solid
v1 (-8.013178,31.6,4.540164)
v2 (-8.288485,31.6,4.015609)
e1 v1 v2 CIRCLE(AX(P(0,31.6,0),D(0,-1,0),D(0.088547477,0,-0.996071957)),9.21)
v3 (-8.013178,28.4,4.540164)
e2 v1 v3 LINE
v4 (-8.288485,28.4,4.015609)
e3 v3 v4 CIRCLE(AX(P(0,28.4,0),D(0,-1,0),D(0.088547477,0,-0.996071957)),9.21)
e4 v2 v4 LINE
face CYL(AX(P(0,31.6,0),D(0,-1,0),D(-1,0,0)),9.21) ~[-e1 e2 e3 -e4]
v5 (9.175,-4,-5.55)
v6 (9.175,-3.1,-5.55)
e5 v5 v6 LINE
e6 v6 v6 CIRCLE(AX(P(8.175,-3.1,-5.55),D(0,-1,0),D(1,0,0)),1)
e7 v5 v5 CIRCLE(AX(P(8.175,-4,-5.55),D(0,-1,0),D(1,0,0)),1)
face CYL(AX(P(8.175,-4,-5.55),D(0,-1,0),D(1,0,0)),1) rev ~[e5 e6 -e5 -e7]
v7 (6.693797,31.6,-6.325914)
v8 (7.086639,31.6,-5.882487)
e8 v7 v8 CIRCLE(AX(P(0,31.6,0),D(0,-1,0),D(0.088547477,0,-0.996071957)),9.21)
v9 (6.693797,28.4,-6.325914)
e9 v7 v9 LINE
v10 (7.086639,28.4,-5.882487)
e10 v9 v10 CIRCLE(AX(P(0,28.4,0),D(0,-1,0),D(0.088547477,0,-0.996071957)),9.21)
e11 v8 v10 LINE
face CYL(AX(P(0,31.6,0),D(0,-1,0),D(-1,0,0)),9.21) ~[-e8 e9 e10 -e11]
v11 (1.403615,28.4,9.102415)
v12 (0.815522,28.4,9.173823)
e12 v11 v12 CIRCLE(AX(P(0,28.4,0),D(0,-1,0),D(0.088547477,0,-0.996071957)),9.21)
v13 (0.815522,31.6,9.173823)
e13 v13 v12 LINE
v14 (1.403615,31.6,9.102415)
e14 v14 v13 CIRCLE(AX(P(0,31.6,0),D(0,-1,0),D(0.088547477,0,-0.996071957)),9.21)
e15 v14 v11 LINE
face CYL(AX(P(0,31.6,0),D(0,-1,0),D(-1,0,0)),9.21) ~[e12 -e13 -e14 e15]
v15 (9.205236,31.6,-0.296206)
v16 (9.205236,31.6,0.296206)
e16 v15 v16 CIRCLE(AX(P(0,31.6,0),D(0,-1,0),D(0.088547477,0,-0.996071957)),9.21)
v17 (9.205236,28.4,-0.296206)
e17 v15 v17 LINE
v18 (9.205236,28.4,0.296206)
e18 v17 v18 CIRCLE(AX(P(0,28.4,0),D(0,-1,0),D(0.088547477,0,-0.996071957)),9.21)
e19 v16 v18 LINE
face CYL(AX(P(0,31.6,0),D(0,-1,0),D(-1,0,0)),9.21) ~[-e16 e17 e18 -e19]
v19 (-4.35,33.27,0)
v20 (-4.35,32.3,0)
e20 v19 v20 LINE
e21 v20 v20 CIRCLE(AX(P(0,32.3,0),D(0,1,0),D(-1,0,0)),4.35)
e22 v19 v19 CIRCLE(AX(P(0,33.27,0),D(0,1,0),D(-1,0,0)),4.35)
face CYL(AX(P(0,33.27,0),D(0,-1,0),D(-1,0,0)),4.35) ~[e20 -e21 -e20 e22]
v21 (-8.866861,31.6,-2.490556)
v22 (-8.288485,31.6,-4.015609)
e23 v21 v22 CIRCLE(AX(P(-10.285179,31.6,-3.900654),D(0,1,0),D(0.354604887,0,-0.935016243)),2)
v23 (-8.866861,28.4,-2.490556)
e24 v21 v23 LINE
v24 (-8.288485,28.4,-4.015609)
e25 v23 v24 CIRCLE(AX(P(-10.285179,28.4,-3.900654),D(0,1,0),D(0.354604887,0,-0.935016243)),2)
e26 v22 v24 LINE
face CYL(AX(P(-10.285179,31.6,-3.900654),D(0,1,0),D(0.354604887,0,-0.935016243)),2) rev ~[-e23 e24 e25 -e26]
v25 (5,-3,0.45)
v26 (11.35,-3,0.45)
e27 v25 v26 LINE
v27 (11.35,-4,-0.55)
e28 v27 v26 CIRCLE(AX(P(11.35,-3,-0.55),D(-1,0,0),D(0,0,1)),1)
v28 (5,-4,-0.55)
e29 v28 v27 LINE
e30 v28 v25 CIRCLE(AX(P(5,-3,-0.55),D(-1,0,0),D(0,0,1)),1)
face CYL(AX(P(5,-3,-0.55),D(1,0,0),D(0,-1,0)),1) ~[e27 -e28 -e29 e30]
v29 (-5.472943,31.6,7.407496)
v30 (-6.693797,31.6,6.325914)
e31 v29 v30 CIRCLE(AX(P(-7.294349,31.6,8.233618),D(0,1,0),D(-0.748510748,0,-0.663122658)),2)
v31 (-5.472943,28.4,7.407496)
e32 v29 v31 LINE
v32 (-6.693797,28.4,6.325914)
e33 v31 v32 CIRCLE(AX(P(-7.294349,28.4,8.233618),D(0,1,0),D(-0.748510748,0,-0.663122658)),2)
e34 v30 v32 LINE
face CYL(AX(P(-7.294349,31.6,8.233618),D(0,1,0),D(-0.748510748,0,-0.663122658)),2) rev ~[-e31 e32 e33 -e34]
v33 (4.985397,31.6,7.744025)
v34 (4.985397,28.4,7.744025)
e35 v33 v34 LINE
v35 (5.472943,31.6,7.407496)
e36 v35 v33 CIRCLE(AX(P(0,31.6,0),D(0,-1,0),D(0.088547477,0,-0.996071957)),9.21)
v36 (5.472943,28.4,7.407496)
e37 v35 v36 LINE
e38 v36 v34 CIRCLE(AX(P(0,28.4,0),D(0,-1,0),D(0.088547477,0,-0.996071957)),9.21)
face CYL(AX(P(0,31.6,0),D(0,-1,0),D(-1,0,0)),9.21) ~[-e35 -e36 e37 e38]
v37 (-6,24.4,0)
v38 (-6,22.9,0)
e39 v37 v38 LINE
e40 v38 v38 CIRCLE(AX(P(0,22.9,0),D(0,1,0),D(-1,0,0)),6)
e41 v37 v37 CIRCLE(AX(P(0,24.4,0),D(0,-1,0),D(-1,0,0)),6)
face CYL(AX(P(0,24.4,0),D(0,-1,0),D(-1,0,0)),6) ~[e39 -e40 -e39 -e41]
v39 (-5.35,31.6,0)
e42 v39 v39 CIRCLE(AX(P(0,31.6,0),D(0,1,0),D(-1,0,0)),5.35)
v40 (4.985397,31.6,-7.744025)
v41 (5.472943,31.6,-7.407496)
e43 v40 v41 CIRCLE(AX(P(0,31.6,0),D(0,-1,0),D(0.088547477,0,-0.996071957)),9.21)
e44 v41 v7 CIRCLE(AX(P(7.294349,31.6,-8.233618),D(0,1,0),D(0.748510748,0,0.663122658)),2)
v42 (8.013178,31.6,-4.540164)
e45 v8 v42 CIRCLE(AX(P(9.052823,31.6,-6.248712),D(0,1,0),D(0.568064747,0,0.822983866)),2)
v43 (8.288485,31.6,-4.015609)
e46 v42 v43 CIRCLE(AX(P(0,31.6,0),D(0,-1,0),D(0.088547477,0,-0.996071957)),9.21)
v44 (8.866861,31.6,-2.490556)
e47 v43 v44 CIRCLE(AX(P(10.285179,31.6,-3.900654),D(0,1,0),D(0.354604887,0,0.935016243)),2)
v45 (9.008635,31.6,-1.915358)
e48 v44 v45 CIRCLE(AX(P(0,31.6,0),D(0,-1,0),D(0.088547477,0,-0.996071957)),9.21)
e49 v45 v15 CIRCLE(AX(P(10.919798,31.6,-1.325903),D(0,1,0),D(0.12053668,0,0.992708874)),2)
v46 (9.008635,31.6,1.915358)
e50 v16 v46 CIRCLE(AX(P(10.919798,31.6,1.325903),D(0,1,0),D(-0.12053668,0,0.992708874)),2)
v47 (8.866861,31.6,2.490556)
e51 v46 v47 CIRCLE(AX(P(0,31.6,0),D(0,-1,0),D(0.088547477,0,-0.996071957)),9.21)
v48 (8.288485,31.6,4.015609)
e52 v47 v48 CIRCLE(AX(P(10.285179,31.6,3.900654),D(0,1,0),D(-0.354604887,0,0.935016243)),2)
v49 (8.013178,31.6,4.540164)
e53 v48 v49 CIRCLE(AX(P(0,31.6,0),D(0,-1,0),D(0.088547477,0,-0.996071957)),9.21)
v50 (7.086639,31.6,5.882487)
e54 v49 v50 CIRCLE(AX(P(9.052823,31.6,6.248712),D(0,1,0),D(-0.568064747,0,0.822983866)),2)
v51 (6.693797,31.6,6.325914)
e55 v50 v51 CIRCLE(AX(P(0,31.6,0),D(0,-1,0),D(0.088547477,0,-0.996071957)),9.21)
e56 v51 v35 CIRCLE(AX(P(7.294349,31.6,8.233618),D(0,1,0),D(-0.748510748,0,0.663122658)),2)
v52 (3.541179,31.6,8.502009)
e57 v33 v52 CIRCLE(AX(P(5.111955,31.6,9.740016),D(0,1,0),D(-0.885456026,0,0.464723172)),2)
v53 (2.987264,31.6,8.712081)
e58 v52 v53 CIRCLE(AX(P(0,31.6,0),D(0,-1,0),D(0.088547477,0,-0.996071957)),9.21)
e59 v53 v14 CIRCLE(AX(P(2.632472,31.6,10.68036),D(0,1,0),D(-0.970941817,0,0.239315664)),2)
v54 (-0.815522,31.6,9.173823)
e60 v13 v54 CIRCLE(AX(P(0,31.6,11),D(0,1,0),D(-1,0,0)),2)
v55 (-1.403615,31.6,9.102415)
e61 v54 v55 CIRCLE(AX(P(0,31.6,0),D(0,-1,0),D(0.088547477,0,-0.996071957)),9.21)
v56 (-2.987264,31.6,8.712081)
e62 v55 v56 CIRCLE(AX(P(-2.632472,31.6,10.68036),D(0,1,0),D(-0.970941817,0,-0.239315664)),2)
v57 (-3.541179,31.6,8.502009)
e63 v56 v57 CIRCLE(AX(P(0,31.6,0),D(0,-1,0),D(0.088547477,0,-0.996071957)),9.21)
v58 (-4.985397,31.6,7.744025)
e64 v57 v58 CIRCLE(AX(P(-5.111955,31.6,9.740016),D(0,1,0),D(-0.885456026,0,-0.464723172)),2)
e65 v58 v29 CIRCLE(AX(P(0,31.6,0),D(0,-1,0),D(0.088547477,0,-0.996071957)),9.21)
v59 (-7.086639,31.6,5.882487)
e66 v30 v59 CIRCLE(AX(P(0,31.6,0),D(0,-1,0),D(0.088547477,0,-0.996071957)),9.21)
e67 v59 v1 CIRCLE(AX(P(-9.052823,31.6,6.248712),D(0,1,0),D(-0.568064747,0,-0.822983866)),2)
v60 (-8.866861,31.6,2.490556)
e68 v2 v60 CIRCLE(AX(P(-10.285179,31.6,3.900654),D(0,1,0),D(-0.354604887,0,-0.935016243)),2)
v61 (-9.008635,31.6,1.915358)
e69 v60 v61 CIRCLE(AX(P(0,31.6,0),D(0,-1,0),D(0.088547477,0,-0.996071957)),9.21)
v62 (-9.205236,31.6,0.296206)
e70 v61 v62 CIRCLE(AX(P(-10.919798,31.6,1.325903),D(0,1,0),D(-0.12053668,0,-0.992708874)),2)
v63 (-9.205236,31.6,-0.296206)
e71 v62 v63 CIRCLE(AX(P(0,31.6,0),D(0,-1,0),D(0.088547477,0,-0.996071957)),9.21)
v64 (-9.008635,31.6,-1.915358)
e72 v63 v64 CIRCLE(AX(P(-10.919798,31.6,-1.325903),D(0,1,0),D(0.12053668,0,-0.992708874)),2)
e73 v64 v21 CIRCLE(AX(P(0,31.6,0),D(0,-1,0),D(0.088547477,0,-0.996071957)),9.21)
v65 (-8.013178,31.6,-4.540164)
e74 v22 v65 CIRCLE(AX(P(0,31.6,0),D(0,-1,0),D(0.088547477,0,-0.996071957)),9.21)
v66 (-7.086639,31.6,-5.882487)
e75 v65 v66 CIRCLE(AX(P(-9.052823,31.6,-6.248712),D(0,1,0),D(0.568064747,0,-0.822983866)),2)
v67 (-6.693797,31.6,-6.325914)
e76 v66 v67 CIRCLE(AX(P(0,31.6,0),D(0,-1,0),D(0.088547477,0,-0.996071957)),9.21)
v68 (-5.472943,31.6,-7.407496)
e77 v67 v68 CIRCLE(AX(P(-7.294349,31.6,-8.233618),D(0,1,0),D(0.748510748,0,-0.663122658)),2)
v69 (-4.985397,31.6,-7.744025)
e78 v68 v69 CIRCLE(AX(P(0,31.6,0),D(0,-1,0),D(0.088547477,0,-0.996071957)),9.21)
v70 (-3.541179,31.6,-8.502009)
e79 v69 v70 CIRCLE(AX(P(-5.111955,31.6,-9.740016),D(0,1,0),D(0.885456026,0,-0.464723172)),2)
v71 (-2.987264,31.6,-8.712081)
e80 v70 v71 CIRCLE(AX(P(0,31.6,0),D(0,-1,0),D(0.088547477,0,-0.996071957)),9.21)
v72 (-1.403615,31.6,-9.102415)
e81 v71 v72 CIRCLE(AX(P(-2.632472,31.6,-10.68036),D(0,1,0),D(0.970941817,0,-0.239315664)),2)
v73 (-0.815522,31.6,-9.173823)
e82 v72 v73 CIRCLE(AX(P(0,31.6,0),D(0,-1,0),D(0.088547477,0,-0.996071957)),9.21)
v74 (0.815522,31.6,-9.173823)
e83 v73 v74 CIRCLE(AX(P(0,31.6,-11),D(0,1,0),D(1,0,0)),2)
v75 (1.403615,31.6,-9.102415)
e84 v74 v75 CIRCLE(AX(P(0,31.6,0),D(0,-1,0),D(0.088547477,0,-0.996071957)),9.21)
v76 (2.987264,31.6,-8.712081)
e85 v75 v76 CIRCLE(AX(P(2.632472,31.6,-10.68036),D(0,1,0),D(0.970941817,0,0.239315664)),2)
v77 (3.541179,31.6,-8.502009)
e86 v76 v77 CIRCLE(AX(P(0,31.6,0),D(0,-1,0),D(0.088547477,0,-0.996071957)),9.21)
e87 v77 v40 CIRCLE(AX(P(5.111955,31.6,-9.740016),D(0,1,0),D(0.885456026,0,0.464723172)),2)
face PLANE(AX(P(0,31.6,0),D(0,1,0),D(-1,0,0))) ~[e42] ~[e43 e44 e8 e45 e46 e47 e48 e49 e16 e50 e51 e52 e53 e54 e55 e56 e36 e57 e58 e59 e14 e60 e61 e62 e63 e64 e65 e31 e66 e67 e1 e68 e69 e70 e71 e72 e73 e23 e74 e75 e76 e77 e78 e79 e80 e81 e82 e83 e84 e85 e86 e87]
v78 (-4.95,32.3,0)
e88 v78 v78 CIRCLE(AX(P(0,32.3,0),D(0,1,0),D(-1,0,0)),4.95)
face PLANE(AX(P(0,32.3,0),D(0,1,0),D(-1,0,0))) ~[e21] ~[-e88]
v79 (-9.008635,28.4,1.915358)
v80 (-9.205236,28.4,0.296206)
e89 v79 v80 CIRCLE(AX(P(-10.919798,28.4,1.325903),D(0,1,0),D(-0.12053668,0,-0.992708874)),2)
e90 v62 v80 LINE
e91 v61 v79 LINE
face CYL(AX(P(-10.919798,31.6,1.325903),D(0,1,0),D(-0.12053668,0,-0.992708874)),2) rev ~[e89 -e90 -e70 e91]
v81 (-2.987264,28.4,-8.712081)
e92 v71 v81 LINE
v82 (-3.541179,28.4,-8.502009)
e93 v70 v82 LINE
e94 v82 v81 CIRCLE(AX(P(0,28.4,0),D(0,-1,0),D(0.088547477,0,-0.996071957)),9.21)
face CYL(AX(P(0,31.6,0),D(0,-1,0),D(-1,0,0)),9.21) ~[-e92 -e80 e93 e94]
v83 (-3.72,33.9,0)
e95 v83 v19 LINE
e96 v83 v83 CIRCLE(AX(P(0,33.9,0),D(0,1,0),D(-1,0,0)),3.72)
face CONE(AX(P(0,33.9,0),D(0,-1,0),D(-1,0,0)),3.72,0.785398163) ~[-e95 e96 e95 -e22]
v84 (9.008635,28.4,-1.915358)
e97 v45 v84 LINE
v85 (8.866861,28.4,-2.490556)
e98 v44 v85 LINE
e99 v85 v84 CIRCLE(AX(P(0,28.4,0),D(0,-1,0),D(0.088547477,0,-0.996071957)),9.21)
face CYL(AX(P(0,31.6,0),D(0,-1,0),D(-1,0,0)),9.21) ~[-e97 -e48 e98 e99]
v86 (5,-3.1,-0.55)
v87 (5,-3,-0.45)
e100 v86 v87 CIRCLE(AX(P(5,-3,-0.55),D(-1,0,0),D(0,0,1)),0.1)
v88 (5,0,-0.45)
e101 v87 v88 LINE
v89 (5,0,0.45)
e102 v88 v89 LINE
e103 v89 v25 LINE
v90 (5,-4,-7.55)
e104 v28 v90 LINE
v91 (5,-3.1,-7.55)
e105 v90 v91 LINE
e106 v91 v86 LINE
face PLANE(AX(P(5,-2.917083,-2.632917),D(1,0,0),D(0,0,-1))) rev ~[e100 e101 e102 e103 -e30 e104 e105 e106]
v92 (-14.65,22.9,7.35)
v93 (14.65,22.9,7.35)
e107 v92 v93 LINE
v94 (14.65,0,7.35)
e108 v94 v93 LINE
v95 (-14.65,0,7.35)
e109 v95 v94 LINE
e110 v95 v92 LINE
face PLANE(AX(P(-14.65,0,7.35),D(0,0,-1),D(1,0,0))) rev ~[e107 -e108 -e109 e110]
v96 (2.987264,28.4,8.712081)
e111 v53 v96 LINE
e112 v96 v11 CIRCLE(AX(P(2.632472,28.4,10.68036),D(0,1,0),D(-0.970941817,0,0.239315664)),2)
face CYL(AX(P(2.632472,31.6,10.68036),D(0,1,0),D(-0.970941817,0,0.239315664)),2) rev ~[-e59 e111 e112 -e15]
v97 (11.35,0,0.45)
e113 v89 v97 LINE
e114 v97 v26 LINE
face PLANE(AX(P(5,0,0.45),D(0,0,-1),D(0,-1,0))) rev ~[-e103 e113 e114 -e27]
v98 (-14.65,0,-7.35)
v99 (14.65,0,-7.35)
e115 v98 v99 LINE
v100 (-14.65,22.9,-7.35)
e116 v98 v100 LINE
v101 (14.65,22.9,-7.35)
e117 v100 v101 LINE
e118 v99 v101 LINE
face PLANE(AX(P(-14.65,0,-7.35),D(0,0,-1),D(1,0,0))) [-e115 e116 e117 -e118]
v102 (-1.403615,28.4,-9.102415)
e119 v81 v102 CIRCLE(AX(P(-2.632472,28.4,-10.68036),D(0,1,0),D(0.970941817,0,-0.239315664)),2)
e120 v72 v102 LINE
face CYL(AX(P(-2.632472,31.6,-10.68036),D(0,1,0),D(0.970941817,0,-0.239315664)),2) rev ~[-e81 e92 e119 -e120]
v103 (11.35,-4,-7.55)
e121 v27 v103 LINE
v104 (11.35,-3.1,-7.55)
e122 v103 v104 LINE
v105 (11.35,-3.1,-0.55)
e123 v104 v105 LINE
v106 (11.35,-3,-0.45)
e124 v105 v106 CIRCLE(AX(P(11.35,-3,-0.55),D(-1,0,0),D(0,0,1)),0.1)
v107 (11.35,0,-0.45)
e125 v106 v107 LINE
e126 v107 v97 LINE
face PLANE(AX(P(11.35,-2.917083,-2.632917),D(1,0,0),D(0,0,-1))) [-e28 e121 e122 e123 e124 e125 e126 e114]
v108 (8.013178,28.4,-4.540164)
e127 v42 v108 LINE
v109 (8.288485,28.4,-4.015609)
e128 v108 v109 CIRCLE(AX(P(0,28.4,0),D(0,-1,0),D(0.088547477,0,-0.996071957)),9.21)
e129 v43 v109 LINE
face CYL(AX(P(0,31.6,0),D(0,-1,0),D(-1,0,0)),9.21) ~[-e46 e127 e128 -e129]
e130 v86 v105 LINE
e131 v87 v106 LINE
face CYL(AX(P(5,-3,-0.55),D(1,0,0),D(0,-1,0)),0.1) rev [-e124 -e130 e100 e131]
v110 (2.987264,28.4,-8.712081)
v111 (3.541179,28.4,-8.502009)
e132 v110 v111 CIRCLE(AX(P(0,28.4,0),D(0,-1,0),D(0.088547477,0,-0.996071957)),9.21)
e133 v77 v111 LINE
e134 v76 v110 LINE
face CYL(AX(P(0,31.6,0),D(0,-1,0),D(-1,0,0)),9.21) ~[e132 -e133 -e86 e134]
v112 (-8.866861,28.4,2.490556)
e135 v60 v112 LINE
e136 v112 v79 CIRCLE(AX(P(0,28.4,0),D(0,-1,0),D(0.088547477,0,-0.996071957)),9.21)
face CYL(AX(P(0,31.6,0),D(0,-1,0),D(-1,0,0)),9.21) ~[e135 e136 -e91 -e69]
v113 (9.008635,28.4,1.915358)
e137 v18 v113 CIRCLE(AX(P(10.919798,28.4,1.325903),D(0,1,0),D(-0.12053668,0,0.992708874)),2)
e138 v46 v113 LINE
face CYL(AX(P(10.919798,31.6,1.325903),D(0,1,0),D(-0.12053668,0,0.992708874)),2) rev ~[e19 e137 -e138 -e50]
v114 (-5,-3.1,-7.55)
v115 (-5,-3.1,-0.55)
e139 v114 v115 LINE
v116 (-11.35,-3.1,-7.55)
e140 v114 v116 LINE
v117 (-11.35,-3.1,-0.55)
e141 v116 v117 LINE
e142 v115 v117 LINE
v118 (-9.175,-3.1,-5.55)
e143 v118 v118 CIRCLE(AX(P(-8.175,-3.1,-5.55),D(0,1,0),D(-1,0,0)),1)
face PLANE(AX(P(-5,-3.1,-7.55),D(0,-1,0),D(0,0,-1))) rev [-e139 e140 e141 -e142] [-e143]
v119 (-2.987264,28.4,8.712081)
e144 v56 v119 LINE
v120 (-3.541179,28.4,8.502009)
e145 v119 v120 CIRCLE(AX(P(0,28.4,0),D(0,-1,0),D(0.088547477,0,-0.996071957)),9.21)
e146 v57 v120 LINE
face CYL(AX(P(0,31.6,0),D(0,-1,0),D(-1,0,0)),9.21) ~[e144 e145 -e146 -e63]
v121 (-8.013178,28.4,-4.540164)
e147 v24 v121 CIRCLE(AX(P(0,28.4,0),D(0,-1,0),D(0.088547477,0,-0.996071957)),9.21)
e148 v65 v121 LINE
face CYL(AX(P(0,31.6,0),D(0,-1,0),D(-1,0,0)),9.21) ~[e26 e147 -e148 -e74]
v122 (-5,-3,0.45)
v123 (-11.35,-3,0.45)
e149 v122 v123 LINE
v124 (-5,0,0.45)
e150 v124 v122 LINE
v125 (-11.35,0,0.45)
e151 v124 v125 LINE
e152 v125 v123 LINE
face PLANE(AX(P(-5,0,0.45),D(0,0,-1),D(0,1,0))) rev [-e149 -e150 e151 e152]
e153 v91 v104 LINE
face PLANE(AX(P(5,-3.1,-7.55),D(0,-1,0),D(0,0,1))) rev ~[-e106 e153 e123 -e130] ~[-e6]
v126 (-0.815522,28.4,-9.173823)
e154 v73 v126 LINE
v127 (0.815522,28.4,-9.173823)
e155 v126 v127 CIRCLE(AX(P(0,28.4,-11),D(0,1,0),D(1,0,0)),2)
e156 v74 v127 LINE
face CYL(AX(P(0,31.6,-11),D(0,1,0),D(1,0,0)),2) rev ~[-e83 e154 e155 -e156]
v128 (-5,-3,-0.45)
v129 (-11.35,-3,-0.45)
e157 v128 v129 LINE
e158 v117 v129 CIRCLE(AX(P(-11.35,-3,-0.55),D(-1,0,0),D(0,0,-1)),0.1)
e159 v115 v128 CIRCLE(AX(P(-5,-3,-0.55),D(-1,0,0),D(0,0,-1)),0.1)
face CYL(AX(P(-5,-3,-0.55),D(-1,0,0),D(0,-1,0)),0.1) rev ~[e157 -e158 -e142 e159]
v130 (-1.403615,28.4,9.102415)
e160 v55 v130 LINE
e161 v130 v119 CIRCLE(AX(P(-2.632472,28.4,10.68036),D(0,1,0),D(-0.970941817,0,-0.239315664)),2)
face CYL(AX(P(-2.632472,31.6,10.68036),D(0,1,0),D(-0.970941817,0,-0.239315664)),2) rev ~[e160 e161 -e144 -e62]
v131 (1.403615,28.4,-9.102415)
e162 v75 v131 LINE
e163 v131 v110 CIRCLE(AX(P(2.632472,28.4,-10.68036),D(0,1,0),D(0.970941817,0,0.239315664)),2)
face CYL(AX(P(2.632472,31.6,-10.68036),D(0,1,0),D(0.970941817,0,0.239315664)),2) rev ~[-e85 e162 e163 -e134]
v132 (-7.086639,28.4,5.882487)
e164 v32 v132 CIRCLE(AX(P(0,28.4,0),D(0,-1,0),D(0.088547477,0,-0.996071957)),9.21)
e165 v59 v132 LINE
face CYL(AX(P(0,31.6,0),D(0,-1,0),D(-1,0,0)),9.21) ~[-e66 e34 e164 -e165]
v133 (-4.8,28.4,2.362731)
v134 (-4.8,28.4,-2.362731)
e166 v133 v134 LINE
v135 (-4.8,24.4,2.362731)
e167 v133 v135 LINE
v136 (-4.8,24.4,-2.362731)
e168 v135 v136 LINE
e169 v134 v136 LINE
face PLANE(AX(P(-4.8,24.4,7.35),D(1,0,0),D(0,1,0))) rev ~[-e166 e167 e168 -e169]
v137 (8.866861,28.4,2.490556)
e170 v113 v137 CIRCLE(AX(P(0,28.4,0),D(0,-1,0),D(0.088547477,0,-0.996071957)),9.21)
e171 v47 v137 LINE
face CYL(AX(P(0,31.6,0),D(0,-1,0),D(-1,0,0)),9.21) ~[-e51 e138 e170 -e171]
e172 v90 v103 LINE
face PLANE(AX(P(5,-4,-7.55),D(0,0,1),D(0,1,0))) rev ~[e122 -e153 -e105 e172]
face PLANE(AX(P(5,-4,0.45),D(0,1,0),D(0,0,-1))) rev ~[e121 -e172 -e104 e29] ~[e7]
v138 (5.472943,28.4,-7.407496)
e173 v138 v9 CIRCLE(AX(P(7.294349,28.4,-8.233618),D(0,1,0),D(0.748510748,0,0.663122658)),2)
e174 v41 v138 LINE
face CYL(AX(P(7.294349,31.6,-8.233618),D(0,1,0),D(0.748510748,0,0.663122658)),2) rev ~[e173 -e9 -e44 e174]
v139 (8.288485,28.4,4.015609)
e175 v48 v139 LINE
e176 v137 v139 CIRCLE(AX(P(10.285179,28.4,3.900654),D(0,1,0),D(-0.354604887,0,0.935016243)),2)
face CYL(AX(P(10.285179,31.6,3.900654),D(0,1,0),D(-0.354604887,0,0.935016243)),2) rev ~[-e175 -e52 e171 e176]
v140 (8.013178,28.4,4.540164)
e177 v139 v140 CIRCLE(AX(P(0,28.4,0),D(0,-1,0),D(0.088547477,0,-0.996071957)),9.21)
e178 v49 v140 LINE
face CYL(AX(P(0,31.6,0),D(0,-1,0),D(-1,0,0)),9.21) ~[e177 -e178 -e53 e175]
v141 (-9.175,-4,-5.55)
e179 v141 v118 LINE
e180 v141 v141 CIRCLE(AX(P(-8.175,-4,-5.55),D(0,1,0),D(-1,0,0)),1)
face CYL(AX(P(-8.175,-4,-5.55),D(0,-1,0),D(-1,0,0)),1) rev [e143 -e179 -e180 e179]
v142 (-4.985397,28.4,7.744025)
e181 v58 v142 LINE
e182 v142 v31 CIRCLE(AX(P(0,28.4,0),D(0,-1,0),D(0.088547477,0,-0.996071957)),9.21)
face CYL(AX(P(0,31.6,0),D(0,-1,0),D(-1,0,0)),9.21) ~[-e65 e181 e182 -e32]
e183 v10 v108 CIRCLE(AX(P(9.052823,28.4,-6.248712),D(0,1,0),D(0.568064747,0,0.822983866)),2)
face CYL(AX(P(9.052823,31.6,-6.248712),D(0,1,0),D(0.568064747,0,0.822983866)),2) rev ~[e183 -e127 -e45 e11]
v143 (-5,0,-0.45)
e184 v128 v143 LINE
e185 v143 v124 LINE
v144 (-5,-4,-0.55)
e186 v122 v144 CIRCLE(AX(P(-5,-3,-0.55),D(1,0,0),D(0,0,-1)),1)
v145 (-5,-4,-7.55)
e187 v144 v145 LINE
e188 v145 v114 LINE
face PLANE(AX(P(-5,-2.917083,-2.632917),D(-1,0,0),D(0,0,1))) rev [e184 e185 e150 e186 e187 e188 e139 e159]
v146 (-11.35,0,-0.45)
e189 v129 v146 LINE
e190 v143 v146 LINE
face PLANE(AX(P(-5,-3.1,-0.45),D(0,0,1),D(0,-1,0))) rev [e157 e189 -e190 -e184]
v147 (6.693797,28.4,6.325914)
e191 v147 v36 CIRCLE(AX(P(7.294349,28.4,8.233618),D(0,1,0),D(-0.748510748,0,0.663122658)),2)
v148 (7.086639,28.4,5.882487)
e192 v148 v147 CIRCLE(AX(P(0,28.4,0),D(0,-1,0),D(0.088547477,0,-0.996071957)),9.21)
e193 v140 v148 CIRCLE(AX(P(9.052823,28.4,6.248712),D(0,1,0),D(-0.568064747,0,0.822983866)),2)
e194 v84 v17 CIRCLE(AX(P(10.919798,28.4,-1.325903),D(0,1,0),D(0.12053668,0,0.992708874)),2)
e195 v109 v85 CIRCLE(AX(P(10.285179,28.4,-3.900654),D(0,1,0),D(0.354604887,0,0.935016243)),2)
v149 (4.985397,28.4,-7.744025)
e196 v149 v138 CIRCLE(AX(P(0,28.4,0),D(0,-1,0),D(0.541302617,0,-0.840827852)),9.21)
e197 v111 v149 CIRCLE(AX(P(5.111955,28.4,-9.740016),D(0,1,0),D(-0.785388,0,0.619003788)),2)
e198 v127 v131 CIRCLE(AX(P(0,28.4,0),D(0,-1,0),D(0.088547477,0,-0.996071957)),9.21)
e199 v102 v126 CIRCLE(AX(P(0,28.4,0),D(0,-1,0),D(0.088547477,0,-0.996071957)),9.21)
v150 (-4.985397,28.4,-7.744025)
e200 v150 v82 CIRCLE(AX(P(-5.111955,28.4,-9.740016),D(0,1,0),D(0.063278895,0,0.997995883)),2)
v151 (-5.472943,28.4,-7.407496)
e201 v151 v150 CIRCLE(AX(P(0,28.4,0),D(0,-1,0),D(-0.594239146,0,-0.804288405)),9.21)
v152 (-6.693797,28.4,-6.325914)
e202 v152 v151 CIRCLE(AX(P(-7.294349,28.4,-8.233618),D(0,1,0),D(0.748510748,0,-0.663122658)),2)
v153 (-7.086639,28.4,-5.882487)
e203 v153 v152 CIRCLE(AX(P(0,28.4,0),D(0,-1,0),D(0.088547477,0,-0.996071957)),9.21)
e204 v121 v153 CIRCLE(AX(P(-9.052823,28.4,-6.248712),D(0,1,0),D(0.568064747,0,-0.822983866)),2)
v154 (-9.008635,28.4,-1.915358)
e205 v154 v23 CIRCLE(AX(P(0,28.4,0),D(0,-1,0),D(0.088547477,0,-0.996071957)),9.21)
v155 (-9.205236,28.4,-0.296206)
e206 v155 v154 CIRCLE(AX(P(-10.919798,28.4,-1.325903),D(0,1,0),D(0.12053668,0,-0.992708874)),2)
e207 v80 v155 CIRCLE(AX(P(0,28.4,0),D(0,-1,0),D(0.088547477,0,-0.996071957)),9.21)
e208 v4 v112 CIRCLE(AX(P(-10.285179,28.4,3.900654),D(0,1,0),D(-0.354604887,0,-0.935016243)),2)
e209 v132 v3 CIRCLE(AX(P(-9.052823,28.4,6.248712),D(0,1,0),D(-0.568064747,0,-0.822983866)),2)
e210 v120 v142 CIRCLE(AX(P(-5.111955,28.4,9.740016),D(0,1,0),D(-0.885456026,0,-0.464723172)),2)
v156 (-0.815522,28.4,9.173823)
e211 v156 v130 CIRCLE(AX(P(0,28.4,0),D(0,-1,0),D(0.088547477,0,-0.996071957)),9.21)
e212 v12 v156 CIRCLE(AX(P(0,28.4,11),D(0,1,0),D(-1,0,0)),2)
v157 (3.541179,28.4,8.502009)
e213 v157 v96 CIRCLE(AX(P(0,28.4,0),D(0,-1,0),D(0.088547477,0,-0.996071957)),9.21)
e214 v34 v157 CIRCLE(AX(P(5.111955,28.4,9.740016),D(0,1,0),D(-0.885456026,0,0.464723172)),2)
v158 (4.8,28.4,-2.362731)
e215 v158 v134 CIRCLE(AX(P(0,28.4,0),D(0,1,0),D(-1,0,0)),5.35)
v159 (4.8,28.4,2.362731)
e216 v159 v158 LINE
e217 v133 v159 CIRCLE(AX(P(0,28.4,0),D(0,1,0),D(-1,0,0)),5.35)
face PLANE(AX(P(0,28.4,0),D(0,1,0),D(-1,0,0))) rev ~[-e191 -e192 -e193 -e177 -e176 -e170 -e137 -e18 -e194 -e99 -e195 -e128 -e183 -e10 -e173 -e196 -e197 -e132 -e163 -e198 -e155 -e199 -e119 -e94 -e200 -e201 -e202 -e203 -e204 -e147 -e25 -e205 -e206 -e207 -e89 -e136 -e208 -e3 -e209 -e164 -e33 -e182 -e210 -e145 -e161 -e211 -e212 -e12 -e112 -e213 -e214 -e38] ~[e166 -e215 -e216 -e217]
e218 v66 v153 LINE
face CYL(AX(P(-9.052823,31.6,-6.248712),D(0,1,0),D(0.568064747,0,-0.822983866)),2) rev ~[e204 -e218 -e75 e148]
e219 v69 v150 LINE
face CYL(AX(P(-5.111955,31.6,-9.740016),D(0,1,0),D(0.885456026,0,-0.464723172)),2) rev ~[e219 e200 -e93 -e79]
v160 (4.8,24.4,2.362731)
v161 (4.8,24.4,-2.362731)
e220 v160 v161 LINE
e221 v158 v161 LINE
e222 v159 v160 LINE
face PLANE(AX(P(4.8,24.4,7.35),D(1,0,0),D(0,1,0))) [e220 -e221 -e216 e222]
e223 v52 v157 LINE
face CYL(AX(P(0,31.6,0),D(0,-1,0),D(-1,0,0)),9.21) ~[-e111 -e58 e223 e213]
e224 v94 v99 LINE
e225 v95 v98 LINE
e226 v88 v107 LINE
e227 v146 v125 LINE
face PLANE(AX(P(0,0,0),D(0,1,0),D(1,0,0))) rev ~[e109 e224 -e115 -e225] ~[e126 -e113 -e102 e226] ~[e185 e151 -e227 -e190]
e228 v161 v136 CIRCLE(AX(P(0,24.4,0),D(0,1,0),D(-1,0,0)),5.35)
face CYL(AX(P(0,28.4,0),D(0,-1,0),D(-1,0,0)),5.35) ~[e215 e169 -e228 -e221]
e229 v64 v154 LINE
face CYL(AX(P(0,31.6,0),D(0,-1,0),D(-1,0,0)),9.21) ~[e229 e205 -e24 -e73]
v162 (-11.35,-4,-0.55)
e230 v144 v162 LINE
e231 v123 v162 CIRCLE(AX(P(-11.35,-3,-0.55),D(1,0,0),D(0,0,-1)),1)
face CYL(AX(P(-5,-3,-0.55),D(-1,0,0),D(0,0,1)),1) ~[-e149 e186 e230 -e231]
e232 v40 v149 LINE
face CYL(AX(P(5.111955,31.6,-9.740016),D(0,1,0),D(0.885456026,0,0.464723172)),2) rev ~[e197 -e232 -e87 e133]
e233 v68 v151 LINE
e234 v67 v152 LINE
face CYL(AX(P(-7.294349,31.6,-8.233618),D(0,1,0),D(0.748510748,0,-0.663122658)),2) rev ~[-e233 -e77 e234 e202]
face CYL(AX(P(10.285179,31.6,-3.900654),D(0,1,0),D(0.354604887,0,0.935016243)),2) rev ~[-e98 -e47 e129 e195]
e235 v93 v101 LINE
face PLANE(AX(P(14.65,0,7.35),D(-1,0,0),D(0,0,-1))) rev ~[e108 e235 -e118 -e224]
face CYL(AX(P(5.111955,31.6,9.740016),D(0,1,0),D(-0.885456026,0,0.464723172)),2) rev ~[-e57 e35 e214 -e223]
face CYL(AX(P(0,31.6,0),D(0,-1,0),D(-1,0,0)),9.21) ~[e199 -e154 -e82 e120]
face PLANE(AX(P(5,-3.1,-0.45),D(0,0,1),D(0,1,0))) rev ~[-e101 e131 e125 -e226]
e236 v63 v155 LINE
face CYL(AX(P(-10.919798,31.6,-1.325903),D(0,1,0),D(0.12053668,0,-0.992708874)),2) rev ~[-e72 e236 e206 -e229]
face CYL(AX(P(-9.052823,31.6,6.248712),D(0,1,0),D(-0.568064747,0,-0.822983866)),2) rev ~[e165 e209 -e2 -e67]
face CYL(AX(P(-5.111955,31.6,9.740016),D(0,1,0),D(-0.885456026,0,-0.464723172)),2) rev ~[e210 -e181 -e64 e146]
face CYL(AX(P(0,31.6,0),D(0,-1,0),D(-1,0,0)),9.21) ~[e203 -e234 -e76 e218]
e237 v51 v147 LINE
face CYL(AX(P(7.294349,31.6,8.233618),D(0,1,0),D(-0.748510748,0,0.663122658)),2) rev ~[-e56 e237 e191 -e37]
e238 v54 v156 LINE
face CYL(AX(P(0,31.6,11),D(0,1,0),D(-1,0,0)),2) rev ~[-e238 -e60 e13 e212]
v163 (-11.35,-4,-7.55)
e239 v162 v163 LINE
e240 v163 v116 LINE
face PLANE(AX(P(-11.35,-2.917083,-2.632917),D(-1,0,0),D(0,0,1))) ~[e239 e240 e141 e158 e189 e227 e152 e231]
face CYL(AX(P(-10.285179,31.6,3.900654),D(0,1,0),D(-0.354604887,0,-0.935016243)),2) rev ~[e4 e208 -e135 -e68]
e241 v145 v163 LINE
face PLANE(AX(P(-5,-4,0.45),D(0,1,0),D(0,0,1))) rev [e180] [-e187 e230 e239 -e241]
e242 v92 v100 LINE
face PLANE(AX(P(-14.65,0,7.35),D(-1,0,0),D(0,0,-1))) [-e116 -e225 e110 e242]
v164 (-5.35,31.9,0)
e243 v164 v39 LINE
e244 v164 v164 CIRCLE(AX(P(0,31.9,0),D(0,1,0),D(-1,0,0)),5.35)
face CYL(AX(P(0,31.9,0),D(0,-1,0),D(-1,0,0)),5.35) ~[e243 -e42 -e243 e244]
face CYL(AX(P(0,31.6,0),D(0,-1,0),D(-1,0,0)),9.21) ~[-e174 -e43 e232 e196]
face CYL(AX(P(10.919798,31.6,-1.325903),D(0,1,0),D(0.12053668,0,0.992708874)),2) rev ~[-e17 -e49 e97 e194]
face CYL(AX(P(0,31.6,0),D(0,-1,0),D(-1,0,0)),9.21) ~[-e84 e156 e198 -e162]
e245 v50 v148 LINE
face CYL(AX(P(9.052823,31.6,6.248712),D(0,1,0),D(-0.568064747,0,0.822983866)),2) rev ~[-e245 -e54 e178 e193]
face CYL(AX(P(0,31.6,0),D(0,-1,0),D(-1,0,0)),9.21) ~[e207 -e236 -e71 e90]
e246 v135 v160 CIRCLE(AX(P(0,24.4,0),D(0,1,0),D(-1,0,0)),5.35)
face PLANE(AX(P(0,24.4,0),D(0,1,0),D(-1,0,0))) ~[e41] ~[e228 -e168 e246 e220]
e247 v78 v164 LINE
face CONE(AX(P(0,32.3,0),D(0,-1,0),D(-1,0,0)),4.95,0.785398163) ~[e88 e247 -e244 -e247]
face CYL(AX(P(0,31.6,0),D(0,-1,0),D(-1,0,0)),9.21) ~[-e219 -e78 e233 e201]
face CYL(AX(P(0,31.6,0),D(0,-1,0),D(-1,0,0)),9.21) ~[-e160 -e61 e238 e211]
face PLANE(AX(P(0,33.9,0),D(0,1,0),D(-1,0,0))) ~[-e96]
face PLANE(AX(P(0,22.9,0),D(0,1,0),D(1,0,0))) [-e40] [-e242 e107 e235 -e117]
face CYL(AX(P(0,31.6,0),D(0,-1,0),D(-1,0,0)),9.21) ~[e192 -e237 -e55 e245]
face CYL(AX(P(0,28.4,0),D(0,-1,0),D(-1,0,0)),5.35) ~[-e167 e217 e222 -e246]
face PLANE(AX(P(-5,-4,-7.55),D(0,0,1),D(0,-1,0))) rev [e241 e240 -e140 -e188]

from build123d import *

# Parameters (mm, degrees)
SKETCH2_W           = 29.3
SKETCH2_H           = 14.7
BOSS_EXTRUDE1_DEPTH = 22.9
BOSS_EXTRUDE2_START = 5
BOSS_EXTRUDE2_DEPTH = 6.35
SKETCH8_R           = 1
CUT_EXTRUDE3_DEPTH  = 0.9
SKETCH5_R           = 2
CUT_EXTRUDE1_DEPTH  = 3.2
CIRPATTERN1_COUNT   = 26
SKETCH7_W           = 0.55
SKETCH7_H           = 4
CUT_EXTRUDE2_DEPTH  = 17.523822727
FILLET1_R           = 0.1
FILLET1_2_R         = 1


with BuildPart() as part:
    # Sketch2 → Boss-Extrude1 (new body)
    with BuildSketch(Plane(origin=(0, 0, 0), x_dir=(1, 0, 0), z_dir=(0, 1, 0))):
        Rectangle(SKETCH2_W, SKETCH2_H)
    extrude(amount=BOSS_EXTRUDE1_DEPTH)

    # Sketch3 → Revolve1 (revolve)
    with BuildSketch(Plane.XY):
        Polygon((0, 22.9), (0, 33.9), (-3.72, 33.9), (-4.35, 33.27), (-4.35, 32.3), (-4.95, 32.3), (-5.35, 31.9), (-5.35, 31.6), (-9.21, 31.6), (-9.21, 28.4), (-5.35, 28.4), (-5.35, 24.4), (-6, 24.4), (-6, 22.9), align=None)
    revolve(axis=Axis((0, 22.9, 0), (0, 1, 0)))

    # Sketch4 → Boss-Extrude2 (add)
    with BuildSketch(Plane(origin=(0, 0, 0), x_dir=(0, 0, -1), z_dir=(1, 0, 0)).offset(BOSS_EXTRUDE2_START)):
        Polygon((-0.45, -4), (0.45, -4), (7.55, -4), (7.55, -3.1), (0.45, -3.1), (0.45, 0), (-0.45, 0), align=None)
    boss_extrude2 = extrude(amount=BOSS_EXTRUDE2_DEPTH)

    # Sketch8 → Cut-Extrude3 (cut)
    with BuildSketch(Plane.XZ.offset(4)):
        with Locations((8.175, -5.55)):
            Circle(SKETCH8_R)
    cut_extrude3 = extrude(amount=-CUT_EXTRUDE3_DEPTH, mode=Mode.SUBTRACT)

    # Mirror1: Boss-Extrude2, Cut-Extrude3 across plane
    add(boss_extrude2.mirror(Plane(origin=(0, 0, 0), x_dir=(0, 0, 1), z_dir=(1, 0, 0))))
    add(cut_extrude3.mirror(Plane(origin=(0, 0, 0), x_dir=(0, 0, 1), z_dir=(1, 0, 0))), mode=Mode.SUBTRACT)

    # Sketch5 → Cut-Extrude1 (cut)
    with BuildSketch(Plane(origin=(0, 31.6, 0), x_dir=(1, 0, 0), z_dir=(0, 1, 0))):
        with Locations((0, 11)):
            Circle(SKETCH5_R)
    cut_extrude1 = extrude(amount=-CUT_EXTRUDE1_DEPTH, mode=Mode.SUBTRACT)

    # CirPattern1: Cut-Extrude1 ×26 about axis
    cirpattern1_axis = Axis((0, 0, 0), (0, 1, 0))
    for i in range(1, CIRPATTERN1_COUNT):
        add(cut_extrude1.rotate(cirpattern1_axis, i * 360 / CIRPATTERN1_COUNT), mode=Mode.SUBTRACT)

    # Sketch7 → Cut-Extrude2 (cut, through all)
    with BuildSketch(Plane.XY.offset(7.35)):
        with Locations((5.075, 26.4)):
            Rectangle(SKETCH7_W, SKETCH7_H)
        with Locations((-5.075, 26.4)):
            Rectangle(SKETCH7_W, SKETCH7_H)
    extrude(amount=-CUT_EXTRUDE2_DEPTH, mode=Mode.SUBTRACT)

    # Fillet1
    fillet1_edges = [part.edges().sort_by_distance(p)[0] for p in [
        (8.175, -3.1, -0.45),
        (-8.175, -3.1, -0.45),
    ]]
    fillet(fillet1_edges, radius=FILLET1_R)

    # Fillet1 2
    fillet1_2_edges = [part.edges().sort_by_distance(p)[0] for p in [
        (8.175, -4, 0.45),
        (-8.175, -4, 0.45),
    ]]
    fillet(fillet1_2_edges, radius=FILLET1_2_R)


solid = part.part
